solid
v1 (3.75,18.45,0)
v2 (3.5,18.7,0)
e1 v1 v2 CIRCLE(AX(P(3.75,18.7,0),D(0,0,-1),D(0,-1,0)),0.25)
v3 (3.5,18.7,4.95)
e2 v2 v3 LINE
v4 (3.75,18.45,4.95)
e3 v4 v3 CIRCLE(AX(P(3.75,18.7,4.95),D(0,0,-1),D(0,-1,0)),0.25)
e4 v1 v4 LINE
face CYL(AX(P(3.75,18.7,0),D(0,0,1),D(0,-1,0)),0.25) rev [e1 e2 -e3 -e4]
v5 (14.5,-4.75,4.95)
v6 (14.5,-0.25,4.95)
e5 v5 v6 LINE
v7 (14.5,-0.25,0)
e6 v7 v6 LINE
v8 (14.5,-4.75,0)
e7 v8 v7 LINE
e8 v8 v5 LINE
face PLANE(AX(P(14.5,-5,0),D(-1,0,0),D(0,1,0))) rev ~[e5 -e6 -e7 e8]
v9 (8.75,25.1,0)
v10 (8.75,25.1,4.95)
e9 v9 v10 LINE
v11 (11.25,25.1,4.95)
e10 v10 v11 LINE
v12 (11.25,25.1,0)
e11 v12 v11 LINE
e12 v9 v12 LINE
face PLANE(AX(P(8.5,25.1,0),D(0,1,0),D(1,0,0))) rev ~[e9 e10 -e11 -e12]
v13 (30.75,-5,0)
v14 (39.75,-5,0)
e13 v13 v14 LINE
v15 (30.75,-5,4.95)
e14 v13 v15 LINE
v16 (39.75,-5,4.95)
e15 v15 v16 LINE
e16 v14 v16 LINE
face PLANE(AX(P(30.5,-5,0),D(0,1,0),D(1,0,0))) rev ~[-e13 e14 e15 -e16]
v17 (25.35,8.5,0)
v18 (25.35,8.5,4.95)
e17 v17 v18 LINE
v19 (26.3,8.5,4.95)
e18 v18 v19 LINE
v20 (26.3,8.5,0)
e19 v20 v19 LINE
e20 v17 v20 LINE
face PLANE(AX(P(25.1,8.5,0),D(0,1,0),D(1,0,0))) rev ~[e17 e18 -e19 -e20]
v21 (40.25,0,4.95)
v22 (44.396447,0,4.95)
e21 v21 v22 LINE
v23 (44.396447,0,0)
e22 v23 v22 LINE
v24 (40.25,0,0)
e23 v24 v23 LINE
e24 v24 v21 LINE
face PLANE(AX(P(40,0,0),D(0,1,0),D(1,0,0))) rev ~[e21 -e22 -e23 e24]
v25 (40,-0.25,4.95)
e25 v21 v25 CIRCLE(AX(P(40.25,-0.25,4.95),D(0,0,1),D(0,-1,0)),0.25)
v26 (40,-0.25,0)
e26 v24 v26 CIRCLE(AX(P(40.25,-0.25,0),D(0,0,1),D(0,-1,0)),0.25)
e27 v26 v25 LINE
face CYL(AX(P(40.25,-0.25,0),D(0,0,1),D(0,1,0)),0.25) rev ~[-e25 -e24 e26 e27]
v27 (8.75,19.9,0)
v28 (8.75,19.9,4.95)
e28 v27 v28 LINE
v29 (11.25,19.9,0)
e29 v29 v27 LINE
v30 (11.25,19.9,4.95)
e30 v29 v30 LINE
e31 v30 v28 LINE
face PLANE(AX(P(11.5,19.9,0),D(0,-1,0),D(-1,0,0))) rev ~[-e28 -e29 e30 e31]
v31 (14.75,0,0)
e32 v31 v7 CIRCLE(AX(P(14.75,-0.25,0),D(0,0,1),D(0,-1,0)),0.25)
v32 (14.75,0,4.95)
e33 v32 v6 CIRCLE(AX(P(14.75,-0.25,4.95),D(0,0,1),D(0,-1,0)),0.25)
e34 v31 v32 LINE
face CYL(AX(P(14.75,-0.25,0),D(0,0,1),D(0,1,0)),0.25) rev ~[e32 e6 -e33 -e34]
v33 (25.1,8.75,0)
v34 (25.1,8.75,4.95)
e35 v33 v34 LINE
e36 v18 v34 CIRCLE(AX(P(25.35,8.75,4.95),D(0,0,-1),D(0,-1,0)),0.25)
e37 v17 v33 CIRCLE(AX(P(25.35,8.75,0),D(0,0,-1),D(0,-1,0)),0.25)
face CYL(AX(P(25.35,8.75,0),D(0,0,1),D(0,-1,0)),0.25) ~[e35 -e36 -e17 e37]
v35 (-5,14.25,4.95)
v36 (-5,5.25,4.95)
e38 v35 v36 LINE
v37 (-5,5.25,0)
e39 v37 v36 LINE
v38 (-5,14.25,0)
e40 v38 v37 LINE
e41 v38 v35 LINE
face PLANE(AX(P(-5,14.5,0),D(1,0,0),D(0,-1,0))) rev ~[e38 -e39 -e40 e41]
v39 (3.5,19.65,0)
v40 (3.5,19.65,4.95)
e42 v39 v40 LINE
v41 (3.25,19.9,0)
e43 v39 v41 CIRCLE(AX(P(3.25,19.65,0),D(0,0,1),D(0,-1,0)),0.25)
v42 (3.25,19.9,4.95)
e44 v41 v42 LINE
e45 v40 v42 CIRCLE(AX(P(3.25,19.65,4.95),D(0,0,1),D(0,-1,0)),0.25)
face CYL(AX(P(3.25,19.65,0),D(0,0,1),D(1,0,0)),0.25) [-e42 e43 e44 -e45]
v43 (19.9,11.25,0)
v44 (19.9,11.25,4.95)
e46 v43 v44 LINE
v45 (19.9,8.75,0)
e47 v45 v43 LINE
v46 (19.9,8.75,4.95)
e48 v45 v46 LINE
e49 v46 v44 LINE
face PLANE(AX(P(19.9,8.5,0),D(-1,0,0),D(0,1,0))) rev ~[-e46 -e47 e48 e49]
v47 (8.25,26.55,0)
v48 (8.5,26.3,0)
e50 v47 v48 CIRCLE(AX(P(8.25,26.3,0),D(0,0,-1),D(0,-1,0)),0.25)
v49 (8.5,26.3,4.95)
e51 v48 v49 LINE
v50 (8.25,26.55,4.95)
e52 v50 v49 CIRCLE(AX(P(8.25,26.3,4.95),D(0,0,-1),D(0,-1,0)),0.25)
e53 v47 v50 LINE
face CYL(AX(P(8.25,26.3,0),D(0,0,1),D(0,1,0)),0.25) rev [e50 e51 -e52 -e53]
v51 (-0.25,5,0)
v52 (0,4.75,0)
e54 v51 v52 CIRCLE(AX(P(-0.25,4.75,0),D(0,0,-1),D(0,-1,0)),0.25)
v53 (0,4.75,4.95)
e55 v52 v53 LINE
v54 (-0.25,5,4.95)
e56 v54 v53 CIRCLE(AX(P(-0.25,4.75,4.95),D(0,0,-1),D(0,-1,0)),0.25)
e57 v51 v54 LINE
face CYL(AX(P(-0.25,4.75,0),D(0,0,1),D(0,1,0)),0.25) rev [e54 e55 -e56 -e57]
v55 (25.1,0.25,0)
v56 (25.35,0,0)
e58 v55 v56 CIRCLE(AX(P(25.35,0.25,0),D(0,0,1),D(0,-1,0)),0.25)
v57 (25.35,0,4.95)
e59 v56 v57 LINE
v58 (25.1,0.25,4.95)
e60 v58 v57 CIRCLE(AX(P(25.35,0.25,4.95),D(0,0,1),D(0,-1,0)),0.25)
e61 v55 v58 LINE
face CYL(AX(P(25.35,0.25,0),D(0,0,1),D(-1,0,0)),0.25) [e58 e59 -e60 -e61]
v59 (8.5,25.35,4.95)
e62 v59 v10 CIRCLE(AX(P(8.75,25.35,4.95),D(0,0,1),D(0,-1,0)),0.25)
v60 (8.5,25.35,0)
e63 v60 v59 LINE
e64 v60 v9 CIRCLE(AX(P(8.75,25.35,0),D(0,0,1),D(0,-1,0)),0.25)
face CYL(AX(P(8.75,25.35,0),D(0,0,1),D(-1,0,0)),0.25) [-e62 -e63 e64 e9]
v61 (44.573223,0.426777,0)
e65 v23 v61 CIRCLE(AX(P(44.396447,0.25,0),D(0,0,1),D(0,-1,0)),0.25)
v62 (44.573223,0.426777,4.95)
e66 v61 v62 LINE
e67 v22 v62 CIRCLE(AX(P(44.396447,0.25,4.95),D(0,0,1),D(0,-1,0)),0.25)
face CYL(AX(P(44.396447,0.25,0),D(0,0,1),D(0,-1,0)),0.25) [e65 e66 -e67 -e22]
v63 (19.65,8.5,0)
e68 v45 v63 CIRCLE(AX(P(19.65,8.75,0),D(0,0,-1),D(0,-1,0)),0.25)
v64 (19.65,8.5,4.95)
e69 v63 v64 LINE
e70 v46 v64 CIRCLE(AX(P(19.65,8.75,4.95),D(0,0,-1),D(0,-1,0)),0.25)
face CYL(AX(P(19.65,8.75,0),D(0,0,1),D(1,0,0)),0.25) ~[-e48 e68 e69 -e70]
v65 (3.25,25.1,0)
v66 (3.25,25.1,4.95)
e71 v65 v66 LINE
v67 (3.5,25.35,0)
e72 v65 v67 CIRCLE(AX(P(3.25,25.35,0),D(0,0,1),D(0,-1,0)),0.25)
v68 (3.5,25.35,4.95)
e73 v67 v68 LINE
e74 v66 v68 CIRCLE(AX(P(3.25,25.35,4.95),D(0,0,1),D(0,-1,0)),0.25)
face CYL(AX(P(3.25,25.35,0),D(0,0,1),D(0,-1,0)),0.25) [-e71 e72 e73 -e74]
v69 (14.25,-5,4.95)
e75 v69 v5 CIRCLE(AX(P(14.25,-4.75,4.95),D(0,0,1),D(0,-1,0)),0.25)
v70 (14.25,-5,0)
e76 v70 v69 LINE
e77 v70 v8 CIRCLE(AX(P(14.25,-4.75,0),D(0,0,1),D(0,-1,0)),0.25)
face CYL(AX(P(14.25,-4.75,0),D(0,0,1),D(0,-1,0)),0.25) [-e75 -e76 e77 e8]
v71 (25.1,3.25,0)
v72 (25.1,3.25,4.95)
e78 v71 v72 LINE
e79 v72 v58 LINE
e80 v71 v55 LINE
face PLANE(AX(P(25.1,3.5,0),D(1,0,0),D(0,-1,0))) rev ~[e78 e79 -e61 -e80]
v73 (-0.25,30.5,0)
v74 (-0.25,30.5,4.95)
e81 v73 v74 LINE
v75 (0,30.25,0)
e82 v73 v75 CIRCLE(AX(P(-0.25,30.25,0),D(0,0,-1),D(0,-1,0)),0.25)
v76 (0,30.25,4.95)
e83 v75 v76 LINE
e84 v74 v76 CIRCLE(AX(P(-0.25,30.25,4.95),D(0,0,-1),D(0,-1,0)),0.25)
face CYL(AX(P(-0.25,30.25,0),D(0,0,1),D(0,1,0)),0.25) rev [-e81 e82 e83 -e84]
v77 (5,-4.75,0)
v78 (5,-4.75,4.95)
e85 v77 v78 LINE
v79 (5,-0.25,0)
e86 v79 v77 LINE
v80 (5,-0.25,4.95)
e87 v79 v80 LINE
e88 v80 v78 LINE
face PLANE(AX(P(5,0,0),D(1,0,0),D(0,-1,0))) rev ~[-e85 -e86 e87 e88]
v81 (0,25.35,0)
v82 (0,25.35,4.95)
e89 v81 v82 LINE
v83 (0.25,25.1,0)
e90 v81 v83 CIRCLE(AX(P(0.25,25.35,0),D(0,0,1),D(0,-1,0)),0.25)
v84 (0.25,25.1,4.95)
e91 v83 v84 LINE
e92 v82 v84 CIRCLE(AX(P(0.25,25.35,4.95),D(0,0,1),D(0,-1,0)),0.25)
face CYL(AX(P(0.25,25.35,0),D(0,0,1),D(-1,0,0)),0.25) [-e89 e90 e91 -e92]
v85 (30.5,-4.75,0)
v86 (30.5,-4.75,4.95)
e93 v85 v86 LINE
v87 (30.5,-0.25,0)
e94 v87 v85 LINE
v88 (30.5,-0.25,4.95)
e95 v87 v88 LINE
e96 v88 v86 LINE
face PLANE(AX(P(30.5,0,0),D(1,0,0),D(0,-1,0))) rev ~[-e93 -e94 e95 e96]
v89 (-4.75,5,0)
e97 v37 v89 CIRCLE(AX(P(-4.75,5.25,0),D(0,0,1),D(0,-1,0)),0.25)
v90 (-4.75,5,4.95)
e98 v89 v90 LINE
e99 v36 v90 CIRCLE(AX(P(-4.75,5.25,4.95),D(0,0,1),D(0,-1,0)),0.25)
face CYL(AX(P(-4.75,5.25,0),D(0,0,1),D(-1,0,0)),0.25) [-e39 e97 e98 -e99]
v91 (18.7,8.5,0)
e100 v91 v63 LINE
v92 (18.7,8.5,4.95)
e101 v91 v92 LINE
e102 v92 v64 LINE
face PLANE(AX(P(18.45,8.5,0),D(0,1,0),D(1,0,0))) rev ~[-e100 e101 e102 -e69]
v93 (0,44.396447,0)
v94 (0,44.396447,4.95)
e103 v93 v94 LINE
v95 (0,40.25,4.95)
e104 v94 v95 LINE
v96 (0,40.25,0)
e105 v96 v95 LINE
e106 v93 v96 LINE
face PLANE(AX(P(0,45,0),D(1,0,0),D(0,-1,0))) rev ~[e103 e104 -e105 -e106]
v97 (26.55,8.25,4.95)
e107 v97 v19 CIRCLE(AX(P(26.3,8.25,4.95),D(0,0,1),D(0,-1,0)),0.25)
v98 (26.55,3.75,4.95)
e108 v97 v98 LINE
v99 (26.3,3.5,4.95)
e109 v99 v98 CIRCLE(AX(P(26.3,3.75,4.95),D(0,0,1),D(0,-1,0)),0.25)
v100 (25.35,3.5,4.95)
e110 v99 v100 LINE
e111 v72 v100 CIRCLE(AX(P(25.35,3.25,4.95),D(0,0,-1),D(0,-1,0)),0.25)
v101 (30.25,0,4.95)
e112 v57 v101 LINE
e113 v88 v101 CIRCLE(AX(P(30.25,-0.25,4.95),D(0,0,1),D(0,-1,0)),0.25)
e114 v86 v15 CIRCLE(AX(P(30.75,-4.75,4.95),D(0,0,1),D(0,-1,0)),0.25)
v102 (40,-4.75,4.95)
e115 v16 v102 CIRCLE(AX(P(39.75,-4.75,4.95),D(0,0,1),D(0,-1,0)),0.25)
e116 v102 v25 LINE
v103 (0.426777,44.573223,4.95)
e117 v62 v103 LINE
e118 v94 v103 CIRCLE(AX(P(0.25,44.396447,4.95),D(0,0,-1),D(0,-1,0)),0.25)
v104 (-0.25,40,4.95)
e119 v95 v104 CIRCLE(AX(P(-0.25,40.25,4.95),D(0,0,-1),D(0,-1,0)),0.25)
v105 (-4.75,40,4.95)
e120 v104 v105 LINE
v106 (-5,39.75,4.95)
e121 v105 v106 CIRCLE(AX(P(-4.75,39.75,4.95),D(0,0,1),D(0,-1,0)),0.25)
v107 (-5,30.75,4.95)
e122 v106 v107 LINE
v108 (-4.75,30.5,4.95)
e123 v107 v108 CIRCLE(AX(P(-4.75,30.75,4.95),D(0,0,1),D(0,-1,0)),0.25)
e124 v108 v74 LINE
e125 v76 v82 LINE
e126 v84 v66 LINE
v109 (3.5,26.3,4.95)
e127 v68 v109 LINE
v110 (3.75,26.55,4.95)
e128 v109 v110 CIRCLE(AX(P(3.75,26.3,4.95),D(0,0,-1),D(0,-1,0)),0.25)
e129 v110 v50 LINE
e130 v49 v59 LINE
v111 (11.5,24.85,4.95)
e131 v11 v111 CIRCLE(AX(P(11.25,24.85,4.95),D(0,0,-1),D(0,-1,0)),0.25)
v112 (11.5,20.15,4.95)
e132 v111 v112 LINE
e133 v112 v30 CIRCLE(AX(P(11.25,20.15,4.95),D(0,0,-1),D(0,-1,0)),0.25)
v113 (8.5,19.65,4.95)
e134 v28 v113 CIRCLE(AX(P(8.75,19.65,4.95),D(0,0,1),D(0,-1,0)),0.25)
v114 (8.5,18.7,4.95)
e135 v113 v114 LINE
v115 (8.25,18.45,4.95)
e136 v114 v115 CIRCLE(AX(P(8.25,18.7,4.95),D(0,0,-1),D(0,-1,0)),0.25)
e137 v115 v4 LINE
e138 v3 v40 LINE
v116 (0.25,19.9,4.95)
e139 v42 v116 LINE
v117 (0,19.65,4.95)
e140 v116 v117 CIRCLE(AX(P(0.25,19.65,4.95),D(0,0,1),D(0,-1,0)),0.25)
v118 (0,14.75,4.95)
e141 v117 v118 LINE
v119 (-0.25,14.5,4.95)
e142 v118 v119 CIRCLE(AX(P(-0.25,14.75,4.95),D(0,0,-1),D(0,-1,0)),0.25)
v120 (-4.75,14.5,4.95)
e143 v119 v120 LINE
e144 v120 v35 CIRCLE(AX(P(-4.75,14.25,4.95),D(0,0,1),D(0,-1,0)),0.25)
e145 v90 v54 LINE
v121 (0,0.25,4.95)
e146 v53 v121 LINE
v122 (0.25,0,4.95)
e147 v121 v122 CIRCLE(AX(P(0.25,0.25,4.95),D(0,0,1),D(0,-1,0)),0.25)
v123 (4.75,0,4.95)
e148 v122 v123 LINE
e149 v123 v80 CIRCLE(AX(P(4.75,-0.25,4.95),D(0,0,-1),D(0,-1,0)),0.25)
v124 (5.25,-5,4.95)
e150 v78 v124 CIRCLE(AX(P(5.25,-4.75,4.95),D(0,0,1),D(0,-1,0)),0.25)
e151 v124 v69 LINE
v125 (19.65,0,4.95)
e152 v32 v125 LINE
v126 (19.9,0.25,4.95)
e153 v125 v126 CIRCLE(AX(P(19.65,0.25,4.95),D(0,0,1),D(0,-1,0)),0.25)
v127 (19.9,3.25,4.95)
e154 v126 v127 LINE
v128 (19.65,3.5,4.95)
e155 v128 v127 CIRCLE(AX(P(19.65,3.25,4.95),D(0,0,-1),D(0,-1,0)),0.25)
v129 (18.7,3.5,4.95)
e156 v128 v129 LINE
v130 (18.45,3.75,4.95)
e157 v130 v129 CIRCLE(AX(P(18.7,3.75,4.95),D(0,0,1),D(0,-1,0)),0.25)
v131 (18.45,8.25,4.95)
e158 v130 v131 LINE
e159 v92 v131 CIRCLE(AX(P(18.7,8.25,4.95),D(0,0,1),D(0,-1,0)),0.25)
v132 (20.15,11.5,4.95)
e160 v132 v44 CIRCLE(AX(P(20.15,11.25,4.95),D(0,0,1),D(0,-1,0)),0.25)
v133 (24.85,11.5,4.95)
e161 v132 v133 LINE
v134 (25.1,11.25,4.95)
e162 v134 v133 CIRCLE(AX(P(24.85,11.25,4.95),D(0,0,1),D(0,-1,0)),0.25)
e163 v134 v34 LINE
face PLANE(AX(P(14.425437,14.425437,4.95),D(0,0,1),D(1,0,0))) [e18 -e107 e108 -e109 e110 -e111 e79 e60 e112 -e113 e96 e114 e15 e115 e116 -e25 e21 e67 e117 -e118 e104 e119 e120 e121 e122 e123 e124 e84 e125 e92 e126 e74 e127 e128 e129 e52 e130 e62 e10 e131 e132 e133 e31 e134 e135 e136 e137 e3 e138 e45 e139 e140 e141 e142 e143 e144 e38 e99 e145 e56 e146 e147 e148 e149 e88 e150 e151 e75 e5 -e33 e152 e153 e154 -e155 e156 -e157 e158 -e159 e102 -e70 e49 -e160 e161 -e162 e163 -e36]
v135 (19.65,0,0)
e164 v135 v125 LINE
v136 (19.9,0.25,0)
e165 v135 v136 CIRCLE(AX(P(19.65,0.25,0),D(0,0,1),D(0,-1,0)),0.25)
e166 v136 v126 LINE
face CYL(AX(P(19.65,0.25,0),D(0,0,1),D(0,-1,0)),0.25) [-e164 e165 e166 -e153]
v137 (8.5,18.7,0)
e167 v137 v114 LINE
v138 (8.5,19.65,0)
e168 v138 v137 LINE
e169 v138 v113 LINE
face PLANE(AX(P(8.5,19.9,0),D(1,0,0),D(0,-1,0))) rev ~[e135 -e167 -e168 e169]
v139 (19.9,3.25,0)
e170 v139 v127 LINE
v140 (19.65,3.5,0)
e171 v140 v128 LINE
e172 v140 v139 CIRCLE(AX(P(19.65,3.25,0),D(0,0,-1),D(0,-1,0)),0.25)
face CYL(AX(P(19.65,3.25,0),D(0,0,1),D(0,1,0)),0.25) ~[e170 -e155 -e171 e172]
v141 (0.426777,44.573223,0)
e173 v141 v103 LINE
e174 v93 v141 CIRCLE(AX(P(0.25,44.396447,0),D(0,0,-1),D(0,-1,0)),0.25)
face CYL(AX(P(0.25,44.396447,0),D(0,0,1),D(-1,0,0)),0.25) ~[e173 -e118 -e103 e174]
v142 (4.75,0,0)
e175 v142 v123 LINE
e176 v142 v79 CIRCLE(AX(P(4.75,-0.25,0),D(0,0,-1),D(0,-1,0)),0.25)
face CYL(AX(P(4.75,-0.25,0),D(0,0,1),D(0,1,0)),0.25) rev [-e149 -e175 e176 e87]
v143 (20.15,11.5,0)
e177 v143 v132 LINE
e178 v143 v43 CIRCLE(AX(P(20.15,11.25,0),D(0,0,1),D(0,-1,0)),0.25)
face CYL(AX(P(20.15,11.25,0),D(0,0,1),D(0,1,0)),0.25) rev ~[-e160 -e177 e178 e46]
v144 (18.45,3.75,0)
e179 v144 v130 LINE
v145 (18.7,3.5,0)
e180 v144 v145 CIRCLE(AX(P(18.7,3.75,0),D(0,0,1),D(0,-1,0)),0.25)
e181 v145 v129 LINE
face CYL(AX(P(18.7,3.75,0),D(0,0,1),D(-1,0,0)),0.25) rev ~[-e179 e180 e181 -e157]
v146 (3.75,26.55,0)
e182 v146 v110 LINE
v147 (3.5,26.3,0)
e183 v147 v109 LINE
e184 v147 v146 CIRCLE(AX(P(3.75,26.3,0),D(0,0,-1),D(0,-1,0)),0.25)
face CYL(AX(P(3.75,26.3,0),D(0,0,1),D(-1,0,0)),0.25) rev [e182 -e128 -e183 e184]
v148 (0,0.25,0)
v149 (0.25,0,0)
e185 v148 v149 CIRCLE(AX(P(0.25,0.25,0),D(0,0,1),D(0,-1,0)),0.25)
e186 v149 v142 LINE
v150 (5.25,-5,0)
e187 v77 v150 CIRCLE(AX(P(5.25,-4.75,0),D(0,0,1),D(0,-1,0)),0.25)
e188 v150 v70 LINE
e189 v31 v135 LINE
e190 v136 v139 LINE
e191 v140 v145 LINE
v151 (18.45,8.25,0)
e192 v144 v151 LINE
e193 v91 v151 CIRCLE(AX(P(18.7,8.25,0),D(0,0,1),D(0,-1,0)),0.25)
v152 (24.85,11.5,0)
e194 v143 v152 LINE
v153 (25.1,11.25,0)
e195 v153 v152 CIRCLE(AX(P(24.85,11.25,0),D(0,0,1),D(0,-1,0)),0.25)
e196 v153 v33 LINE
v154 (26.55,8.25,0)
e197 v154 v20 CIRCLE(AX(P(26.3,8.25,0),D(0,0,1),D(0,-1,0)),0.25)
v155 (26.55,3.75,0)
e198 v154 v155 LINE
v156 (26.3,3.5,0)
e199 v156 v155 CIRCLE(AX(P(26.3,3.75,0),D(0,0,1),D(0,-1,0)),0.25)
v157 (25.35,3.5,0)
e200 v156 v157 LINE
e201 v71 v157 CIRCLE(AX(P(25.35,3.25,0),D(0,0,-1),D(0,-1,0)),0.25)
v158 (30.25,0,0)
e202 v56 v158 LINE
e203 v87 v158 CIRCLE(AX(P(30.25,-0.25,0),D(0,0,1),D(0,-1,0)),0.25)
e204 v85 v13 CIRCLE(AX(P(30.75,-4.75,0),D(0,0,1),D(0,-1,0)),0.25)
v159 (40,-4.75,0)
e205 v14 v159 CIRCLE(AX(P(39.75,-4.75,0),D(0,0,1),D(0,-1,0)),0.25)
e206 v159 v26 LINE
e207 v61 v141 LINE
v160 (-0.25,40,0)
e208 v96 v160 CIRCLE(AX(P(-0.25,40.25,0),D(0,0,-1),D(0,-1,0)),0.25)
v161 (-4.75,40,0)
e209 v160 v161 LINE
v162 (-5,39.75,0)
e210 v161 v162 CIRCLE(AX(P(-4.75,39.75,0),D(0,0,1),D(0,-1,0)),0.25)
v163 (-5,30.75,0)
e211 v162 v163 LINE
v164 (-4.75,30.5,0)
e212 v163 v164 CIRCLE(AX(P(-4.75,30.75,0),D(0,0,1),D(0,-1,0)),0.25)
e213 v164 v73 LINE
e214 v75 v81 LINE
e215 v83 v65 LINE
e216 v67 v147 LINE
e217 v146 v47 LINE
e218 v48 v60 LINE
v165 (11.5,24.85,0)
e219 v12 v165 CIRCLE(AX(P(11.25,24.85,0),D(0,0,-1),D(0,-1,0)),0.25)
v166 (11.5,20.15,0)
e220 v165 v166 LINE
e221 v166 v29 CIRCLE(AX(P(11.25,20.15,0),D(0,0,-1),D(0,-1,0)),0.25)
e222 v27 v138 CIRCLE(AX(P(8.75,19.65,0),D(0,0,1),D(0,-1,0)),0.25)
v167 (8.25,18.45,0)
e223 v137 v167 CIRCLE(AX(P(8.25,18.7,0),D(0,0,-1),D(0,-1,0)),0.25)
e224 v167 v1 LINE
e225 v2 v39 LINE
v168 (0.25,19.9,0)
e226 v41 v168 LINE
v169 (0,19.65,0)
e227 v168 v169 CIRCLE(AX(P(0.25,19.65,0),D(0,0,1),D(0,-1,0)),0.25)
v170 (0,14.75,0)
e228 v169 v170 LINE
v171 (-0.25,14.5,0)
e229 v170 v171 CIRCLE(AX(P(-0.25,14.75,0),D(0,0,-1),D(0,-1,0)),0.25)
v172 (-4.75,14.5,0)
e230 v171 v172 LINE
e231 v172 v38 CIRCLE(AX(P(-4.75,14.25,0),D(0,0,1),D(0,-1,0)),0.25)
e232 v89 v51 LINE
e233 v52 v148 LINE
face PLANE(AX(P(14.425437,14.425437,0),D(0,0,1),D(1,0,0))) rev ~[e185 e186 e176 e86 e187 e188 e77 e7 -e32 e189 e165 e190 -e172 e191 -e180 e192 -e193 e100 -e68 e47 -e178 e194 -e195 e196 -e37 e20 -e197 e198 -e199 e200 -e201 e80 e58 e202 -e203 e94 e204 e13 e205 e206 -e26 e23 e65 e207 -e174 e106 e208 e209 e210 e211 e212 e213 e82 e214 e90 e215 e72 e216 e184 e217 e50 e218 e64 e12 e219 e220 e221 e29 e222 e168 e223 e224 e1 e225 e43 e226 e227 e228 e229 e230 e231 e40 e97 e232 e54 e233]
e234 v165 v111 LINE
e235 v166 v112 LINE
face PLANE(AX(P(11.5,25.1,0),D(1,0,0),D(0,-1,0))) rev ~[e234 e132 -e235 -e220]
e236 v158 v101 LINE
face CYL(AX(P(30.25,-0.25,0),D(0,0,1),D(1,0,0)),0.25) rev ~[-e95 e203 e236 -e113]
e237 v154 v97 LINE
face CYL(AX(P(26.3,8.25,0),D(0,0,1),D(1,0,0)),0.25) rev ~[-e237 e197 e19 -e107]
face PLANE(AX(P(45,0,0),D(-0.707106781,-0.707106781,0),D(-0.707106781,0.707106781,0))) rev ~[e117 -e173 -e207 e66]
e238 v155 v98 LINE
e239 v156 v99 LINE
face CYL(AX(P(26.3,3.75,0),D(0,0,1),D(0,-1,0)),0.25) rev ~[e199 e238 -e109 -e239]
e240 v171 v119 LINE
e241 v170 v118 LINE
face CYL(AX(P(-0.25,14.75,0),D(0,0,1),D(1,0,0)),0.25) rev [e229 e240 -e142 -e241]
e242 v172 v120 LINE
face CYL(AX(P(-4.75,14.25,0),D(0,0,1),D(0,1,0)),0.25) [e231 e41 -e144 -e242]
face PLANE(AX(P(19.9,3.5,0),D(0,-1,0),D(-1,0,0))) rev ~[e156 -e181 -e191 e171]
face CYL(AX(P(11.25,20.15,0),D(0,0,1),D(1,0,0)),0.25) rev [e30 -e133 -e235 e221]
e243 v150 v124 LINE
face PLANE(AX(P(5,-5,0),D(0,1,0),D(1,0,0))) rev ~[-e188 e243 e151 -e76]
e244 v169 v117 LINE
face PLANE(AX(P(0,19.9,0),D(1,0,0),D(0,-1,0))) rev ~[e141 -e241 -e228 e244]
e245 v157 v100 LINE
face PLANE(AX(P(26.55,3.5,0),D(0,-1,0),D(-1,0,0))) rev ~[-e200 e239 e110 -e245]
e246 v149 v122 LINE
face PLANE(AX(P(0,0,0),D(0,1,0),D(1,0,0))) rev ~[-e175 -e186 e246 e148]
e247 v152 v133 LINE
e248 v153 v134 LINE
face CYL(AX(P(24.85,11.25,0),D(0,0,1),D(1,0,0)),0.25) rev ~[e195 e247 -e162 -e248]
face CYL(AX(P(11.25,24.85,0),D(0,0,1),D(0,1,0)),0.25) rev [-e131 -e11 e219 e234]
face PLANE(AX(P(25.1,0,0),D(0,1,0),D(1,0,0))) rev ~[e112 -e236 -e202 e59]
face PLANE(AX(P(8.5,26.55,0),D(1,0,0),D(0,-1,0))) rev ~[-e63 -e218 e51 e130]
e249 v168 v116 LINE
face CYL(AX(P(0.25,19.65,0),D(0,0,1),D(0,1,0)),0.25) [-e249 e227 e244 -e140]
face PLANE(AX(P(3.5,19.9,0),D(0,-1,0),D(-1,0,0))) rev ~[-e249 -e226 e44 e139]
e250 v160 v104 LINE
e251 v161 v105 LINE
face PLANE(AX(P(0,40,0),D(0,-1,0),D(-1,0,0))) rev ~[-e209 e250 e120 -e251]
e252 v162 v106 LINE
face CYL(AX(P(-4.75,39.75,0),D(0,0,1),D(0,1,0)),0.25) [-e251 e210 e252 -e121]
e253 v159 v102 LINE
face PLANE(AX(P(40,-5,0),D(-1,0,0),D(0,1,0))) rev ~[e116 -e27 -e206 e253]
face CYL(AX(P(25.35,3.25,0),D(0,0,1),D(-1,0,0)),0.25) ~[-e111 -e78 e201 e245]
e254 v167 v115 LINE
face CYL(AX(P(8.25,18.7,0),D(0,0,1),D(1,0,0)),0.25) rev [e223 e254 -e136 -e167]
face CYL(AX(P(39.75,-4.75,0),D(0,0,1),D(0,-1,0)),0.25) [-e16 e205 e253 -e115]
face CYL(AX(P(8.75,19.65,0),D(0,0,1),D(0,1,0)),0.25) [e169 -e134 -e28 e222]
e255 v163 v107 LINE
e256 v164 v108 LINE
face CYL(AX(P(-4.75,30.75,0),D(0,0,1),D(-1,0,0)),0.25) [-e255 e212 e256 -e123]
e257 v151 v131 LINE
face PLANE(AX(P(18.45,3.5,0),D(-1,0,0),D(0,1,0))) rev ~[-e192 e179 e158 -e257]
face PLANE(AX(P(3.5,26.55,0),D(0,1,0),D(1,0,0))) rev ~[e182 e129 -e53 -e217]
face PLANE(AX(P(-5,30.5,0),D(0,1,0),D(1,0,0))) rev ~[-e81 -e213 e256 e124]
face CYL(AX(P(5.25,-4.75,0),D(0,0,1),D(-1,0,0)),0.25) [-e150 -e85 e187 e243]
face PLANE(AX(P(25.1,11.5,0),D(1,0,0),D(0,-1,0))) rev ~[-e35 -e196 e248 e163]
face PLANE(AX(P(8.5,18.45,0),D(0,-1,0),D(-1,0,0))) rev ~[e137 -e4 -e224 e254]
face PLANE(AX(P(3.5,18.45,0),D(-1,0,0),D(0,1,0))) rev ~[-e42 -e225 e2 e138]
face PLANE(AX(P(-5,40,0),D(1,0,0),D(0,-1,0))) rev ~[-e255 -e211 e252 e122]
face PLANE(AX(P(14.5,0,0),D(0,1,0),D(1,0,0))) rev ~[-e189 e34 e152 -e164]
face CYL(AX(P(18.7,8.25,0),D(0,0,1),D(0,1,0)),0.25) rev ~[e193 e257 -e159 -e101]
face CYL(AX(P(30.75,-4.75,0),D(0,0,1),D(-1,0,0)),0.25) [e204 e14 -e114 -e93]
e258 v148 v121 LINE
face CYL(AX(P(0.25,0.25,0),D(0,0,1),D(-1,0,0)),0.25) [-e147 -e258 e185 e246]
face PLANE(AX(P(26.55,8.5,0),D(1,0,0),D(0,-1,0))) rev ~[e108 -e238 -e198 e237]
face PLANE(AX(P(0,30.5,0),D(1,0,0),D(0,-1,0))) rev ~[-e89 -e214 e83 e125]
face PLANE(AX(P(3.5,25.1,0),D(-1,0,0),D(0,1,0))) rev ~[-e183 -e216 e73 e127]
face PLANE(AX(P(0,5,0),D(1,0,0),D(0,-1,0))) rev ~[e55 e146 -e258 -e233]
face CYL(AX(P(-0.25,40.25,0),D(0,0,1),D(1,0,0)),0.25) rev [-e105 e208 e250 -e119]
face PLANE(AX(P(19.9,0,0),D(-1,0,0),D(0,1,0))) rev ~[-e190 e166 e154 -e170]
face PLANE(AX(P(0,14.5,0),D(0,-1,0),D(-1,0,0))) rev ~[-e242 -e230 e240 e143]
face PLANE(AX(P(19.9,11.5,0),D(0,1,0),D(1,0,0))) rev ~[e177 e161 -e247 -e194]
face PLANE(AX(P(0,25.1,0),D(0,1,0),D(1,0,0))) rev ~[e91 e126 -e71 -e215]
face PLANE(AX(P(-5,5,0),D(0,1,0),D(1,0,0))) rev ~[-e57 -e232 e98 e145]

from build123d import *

# Parameters (mm, degrees)
BOSS_EXTRUDE1_DEPTH = 4.95
FILLET1_R           = 0.25
FILLET2_R           = 0.25


with BuildPart() as part:
    # Sketch2 → Boss-Extrude1 (new body)
    with BuildSketch(Plane.XY):
        Polygon((0, 45), (0, 40), (-5, 40), (-5, 30.5), (0, 30.5), (0, 25.1), (3.5, 25.1), (3.5, 26.55), (8.5, 26.55), (8.5, 25.1), (11.5, 25.1), (11.5, 19.9), (8.5, 19.9), (8.5, 18.45), (3.5, 18.45), (3.5, 19.9), (0, 19.9), (0, 14.5), (-5, 14.5), (-5, 5), (0, 5), (0, 0), (5, 0), (5, -5), (14.5, -5), (14.5, 0), (19.9, 0), (19.9, 3.5), (18.45, 3.5), (18.45, 8.5), (19.9, 8.5), (19.9, 11.5), (25.1, 11.5), (25.1, 8.5), (26.55, 8.5), (26.55, 3.5), (25.1, 3.5), (25.1, 0), (30.5, 0), (30.5, -5), (40, -5), (40, 0), (45, 0), align=None)
    extrude(amount=BOSS_EXTRUDE1_DEPTH)

    # Fillet1
    fillet1_edges = [part.edges().sort_by_distance(p)[0] for p in [
        (-5, 5, 2.475),
        (-5, 14.5, 2.475),
        (0, 19.9, 2.475),
        (0, 25.1, 2.475),
        (-5, 30.5, 2.475),
        (-5, 40, 2.475),
        (0, 45, 2.475),
        (45, 0, 2.475),
        (40, -5, 2.475),
        (30.5, -5, 2.475),
        (25.1, 0, 2.475),
        (19.9, 0, 2.475),
        (14.5, -5, 2.475),
        (5, -5, 2.475),
        (0, 0, 2.475),
    ]]
    fillet(fillet1_edges, radius=FILLET1_R)

    # Fillet2
    fillet2_edges = [part.edges().sort_by_distance(p)[0] for p in [
        (0, 5, 2.475),
        (0, 14.5, 2.475),
        (3.5, 19.9, 2.475),
        (3.5, 18.45, 2.475),
        (8.5, 18.45, 2.475),
        (8.5, 19.9, 2.475),
        (11.5, 19.9, 2.475),
        (11.5, 25.1, 2.475),
        (8.5, 25.1, 2.475),
        (8.5, 26.55, 2.475),
        (3.5, 26.55, 2.475),
        (3.5, 25.1, 2.475),
        (0, 30.5, 2.475),
        (0, 40, 2.475),
        (40, 0, 2.475),
        (30.5, 0, 2.475),
        (25.1, 3.5, 2.475),
        (26.55, 3.5, 2.475),
        (26.55, 8.5, 2.475),
        (25.1, 8.5, 2.475),
        (25.1, 11.5, 2.475),
        (19.9, 11.5, 2.475),
        (19.9, 8.5, 2.475),
        (18.45, 8.5, 2.475),
        (18.45, 3.5, 2.475),
        (19.9, 3.5, 2.475),
        (14.5, 0, 2.475),
        (5, 0, 2.475),
    ]]
    fillet(fillet2_edges, radius=FILLET2_R)


solid = part.part
